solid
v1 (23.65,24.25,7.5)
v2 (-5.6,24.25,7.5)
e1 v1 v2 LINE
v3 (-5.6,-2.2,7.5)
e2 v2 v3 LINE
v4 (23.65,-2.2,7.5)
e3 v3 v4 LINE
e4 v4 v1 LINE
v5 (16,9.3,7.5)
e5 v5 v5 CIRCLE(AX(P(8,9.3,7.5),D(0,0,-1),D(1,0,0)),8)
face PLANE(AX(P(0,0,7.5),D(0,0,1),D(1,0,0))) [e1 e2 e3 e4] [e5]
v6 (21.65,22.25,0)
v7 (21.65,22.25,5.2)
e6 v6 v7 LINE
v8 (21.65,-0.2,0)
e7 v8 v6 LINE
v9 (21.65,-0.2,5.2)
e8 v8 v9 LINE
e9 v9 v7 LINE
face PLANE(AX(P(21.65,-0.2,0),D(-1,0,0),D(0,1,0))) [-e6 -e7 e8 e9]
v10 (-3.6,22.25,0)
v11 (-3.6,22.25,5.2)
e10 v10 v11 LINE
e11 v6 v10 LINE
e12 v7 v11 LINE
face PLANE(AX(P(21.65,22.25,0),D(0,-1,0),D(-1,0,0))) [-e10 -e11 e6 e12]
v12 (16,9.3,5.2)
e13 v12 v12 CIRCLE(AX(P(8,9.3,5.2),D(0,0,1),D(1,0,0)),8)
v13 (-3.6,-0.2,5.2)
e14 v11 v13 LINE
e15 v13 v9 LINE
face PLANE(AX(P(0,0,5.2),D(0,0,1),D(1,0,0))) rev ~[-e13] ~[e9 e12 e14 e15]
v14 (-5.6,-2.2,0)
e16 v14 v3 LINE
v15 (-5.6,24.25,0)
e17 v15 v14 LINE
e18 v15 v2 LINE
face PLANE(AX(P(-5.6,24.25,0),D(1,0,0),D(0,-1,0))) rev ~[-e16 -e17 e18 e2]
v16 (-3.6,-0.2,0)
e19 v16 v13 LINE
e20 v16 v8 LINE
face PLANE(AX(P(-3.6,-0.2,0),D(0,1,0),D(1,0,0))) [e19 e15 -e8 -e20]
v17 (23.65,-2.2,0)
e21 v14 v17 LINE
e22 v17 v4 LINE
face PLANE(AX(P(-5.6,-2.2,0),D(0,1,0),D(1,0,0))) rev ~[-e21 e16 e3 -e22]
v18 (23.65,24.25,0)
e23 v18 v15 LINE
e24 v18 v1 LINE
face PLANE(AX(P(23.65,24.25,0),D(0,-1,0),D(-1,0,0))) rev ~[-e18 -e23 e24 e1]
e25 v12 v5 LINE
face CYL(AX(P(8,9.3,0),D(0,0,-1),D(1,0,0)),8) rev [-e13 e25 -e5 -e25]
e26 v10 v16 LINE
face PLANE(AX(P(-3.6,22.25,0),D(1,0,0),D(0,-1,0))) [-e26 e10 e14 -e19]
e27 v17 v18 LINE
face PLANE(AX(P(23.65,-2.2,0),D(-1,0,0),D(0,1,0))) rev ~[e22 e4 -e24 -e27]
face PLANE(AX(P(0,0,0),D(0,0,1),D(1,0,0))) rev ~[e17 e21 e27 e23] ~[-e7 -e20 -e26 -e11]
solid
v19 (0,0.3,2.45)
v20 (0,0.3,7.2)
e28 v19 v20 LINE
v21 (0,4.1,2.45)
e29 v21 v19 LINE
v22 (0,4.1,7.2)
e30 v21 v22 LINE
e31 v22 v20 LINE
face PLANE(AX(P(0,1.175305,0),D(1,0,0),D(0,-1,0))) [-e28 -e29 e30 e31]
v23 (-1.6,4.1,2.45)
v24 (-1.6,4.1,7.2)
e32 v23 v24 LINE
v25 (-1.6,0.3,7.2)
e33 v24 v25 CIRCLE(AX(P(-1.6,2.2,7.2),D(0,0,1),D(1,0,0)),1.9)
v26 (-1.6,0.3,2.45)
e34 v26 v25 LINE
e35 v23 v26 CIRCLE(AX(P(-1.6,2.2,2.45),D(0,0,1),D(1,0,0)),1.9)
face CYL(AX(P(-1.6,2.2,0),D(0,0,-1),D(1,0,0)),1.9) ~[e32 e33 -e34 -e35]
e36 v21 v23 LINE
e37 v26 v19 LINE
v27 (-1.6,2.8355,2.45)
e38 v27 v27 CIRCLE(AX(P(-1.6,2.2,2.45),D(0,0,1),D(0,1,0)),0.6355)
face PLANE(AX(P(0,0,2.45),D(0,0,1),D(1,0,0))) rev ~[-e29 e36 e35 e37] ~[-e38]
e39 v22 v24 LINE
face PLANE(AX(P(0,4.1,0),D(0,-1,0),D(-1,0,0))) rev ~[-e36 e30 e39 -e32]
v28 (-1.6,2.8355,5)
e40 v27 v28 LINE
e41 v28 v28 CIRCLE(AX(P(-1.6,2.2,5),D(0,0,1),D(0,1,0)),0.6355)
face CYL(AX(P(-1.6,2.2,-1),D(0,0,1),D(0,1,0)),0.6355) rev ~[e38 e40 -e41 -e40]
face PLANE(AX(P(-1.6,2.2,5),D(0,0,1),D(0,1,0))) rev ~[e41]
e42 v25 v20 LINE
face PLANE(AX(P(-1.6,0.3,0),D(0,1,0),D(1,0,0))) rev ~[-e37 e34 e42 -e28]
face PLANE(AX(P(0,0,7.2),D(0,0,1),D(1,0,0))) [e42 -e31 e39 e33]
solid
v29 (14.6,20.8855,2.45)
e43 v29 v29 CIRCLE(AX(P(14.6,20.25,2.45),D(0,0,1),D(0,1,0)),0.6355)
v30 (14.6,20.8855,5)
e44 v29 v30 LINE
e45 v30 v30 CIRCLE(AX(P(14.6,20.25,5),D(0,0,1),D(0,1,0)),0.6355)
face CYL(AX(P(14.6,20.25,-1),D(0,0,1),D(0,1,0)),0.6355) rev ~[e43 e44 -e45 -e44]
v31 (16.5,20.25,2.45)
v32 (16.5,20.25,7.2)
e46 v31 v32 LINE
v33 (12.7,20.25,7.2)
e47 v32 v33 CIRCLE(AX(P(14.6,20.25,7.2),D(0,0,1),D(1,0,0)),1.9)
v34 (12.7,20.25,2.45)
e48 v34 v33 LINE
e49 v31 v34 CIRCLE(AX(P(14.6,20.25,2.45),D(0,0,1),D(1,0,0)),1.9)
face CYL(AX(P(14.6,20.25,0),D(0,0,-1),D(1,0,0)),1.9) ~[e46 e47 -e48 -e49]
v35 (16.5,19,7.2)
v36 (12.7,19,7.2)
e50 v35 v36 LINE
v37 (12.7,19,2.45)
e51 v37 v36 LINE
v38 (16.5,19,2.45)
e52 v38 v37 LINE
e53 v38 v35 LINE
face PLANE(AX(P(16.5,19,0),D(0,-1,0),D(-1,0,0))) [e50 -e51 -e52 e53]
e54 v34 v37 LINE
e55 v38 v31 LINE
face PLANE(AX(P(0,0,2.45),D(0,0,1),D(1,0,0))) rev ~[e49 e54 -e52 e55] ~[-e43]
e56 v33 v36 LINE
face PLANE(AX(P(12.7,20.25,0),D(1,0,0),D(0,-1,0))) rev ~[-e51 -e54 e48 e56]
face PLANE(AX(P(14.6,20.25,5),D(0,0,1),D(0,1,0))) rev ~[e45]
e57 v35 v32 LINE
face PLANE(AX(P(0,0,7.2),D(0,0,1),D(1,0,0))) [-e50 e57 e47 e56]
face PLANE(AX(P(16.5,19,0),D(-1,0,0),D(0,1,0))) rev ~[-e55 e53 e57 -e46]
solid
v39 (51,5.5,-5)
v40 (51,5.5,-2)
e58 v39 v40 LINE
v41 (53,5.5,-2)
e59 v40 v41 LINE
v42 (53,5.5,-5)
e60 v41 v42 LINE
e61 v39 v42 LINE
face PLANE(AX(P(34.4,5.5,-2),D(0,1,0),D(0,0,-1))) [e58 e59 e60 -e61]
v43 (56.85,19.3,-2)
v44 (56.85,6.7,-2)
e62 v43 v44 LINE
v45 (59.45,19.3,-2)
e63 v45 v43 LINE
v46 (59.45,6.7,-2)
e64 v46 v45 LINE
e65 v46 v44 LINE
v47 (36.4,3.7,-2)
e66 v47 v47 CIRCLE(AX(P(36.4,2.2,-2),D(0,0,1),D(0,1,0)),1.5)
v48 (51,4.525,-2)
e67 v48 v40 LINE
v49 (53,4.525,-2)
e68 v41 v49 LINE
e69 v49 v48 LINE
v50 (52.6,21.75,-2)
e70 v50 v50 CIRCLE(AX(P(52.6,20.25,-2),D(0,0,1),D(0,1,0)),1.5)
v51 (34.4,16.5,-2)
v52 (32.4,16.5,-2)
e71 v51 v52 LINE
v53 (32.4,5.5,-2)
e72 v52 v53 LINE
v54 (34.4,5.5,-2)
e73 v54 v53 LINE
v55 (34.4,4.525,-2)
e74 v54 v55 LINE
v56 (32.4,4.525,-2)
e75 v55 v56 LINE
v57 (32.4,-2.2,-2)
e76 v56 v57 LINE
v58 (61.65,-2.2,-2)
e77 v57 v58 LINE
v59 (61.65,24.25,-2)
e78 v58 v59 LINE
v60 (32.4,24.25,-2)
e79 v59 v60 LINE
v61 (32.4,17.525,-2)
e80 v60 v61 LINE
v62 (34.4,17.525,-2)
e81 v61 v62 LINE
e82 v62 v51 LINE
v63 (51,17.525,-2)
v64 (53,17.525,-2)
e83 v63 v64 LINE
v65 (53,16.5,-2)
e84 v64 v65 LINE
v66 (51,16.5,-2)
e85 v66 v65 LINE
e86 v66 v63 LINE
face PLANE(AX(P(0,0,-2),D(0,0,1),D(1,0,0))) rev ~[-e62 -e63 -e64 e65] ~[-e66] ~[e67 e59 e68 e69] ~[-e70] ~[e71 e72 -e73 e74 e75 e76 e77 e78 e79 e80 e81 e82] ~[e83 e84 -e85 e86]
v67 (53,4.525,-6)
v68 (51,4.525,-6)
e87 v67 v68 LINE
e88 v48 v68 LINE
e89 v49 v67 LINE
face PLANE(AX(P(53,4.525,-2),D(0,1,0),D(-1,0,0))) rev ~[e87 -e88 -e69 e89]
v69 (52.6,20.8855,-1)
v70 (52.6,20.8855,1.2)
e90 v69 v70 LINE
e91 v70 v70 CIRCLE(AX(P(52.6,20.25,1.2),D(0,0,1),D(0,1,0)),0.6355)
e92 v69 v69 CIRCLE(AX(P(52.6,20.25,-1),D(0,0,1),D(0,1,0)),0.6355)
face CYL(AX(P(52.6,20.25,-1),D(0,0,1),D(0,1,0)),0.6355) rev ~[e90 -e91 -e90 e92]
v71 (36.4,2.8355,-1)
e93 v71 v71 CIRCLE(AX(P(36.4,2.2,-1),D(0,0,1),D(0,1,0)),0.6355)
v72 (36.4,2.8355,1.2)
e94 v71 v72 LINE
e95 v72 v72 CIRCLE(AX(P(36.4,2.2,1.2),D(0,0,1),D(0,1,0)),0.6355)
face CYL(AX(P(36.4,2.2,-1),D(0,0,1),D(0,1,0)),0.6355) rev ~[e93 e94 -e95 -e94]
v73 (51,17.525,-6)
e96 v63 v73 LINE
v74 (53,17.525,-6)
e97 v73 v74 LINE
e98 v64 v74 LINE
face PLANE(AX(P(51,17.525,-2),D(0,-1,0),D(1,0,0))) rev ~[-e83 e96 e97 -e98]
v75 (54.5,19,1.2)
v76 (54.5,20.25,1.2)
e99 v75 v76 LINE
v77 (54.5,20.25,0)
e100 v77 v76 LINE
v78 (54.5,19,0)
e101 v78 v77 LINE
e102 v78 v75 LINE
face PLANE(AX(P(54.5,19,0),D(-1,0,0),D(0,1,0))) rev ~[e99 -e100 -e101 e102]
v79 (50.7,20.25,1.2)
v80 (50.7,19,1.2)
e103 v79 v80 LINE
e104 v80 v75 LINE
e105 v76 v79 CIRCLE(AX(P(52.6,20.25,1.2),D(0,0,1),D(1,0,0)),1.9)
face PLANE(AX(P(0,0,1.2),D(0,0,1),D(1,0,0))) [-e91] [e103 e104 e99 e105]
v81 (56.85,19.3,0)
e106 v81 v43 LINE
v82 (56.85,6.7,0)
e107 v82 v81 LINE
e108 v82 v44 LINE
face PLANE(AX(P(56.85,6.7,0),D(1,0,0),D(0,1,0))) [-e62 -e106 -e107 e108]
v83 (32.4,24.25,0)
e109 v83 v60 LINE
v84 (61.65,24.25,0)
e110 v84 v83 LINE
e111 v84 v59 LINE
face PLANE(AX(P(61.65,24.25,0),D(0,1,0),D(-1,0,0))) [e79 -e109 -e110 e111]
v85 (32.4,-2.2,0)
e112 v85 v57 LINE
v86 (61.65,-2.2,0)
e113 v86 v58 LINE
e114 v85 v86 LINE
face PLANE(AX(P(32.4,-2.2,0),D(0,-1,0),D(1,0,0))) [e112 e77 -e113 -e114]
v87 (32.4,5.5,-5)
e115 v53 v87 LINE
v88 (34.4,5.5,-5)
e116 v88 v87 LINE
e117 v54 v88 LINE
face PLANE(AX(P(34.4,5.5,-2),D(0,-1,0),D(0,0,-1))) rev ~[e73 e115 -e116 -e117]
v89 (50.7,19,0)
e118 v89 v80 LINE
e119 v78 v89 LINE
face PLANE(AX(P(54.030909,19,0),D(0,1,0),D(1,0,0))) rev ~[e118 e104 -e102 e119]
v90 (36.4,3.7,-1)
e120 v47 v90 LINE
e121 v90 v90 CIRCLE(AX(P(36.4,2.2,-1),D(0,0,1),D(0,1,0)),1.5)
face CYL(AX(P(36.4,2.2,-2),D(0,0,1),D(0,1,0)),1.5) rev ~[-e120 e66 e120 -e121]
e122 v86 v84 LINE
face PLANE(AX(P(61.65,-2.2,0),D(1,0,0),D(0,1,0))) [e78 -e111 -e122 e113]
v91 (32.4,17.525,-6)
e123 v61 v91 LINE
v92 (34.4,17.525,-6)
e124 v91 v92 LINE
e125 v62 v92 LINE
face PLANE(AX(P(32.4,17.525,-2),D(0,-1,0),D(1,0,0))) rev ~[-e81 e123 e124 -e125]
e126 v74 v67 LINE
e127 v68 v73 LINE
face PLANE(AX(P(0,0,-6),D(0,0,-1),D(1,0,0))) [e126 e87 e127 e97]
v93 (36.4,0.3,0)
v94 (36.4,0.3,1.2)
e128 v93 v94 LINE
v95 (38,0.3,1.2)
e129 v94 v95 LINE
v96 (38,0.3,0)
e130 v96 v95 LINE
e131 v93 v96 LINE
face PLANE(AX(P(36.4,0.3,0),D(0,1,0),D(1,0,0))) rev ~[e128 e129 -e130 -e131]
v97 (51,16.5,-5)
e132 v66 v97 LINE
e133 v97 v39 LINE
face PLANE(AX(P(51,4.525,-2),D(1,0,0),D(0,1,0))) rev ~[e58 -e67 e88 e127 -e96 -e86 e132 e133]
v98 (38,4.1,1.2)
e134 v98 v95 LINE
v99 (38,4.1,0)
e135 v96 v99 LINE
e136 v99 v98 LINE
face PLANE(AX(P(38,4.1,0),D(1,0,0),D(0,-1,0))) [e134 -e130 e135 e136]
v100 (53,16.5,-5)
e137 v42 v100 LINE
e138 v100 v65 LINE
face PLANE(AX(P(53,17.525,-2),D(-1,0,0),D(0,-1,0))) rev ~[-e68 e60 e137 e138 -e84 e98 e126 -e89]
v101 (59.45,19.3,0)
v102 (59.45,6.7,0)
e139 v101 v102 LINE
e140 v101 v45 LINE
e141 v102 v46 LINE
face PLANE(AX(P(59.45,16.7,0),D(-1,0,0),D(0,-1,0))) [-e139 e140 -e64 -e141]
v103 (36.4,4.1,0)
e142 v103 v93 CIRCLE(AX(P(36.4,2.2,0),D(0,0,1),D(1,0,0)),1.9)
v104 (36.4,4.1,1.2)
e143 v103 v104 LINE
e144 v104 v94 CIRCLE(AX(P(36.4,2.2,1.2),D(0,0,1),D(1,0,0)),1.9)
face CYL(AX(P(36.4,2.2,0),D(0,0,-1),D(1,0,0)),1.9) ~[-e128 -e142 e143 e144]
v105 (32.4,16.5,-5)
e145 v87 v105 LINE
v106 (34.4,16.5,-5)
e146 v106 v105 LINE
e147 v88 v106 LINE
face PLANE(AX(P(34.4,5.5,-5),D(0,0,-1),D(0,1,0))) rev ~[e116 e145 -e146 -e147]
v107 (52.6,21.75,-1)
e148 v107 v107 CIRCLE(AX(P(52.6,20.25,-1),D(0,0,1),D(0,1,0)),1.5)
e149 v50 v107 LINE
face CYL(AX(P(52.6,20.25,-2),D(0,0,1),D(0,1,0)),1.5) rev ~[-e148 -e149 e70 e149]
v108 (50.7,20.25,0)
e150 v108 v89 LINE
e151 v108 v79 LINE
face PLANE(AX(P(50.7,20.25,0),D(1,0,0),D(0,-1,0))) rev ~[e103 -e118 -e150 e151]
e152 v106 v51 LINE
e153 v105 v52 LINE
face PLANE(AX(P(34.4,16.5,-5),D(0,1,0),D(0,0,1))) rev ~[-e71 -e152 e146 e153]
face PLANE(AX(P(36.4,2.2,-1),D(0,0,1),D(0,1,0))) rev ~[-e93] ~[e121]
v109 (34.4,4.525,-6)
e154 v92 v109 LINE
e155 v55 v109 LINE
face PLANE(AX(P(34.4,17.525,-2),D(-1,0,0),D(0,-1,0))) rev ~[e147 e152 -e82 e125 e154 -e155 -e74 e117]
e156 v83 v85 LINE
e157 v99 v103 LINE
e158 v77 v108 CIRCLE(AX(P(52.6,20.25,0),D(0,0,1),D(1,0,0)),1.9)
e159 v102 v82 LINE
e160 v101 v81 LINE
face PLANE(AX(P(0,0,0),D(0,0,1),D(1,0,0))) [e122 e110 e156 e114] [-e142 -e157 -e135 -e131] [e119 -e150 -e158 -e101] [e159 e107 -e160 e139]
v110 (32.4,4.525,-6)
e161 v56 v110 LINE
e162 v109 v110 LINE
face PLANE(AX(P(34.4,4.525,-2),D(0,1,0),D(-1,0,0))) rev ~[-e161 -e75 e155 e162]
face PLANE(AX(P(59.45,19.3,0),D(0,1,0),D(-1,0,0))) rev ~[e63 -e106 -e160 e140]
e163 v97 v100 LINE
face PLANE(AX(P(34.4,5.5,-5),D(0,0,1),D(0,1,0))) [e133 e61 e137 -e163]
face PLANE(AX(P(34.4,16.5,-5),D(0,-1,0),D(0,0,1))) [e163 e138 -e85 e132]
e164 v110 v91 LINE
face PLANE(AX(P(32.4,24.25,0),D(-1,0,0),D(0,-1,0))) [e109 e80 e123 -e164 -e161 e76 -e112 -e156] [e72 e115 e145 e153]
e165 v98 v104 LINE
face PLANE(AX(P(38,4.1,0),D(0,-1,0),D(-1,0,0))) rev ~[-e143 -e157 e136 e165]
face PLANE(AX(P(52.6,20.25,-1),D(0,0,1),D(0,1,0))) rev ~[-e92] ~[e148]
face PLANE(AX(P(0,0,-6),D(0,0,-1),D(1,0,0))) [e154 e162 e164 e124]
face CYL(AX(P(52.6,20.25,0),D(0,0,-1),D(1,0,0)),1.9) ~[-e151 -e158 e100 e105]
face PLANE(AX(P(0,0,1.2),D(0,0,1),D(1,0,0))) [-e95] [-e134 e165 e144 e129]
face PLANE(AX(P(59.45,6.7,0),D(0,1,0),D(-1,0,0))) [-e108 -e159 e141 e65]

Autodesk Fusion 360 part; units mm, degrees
sketch "Sketch3" plane through (0, 0, 0) normal (0, 0, 1) x (1, 0, 0)
  line L0 (0, 0) -> (16.95, 0)
  line L1 (16.95, 0) -> (16.95, 19)
  line L2 (16.95, 19) -> (0, 19)
  line L3 (0, 19) -> (0, 0)
  circle A0 centre (8, 9.3) radius 8
  circle A1 centre (14.6, 20.25) radius 0.8
  circle A2 centre (14.6, 20.25) radius 1.9
  line L4 (16.5, 20.25) -> (12.7, 20.25)
  line L5 (12.7, 20.25) -> (12.7, 19)
  line L6 (12.7, 19) -> (16.5, 19)
  line L7 (16.5, 19) -> (16.5, 20.25)
  circle A3 centre (-1.6, 2.2) radius 0.725
  circle A4 centre (-1.6, 2.2) radius 1.9
  line L8 (0, 4.1) -> (0, 0)
  line L9 (-1.6, 0.3) -> (0, 0.3)
  line L10 (0, 0.3) -> (0, 4.1)
  line L11 (0, 4.1) -> (-1.6, 4.1)
  line L12 (-1.6, 4.1) -> (-1.6, 0.3)
  line L13 (21.45, 19.3) -> (18.85, 19.3)
  line L14 (18.85, 19.3) -> (18.85, 16.7)
  line L15 (18.85, 16.7) -> (21.45, 16.7)
  line L16 (21.45, 16.7) -> (21.45, 19.3)
  line L17 (21.45, 19.3) -> (18.85, 16.7) construction
  line L18 (18.85, 19.3) -> (21.45, 16.7) construction
  line L19 (18.85, 19.3) -> (21.45, 19.3)
  line L20 (21.45, 19.3) -> (21.45, 6.7)
  line L21 (21.45, 6.7) -> (18.85, 6.7)
  line L22 (18.85, 6.7) -> (18.85, 19.3)
  circle A5 centre (52.6, 20.25) radius 1.9
  line L23 (38, 4.1) -> (38, 0)
  line L24 (59.45, 6.7) -> (56.85, 6.7)
  line L25 (50.7, 19) -> (54.5, 19)
  line L26 (59.45, 19.3) -> (56.85, 19.3)
  circle A6 centre (36.4, 2.2) radius 0.725
  line L27 (36.4, 0.3) -> (38, 0.3)
  line L28 (54.5, 19) -> (54.5, 20.25)
  line L29 (56.85, 19.3) -> (59.45, 19.3)
  line L30 (56.85, 6.7) -> (56.85, 19.3)
  line L31 (38, 0.3) -> (38, 4.1)
  circle A7 centre (52.6, 20.25) radius 0.8
  line L32 (36.4, 4.1) -> (36.4, 0.3)
  line L33 (54.95, 0) -> (54.95, 19)
  line L34 (56.85, 19.3) -> (56.85, 16.7)
  line L35 (59.45, 19.3) -> (59.45, 6.7)
  line L36 (59.45, 19.3) -> (56.85, 16.7) construction
  line L37 (54.95, 19) -> (38, 19)
  circle A8 centre (36.4, 2.2) radius 1.9
  line L38 (38, 4.1) -> (36.4, 4.1)
  line L39 (56.85, 19.3) -> (59.45, 16.7) construction
  line L40 (54.5, 20.25) -> (50.7, 20.25)
  line L41 (56.85, 16.7) -> (59.45, 16.7)
  line L42 (38, 0) -> (54.95, 0)
  line L43 (59.45, 16.7) -> (59.45, 19.3)
  circle A9 centre (46, 9.3) radius 8
  line L44 (50.7, 20.25) -> (50.7, 19)
  line L45 (38, 19) -> (38, 0)
  point P0 (8, 9.3)
  point P1 (14.6, 20.25)
  point P2 (-1.6, 2.2)
  point P3 (20.15, 18)
  point P4 (20.15, 18)
  point P5 (38, 0)
  point P6 (52.6, 20.25)
  point P7 (46, 9.3)
  point P8 (36.4, 2.2)
  point P9 (58.15, 18)
  point P10 (58.15, 18)
  dimension "d8" = 16.95
  dimension "d9" = 19
  dimension "d10" = 9.3
  dimension "d11" = 8
  dimension "d12" = 16
  dimension "d13" = 10.95
  dimension "d14" = 14.6
  dimension "d15" = 1.6
  dimension "d16" = 3.8
  dimension "d17" = 7.1
  dimension "d18" = 16.2
  dimension "d19" = 1.45
  dimension "d20" = 3.8
  dimension "d21" = 5.55
  dimension "d22" = 2.25
  dimension "d23" = 2.6
  dimension "d24" = 2.6
  dimension "d25" = 2.6
  dimension "d26" = 12.6
  dimension "d40" = 16.95
  dimension "d41" = 19
  dimension "d42" = 9.3
  dimension "d43" = 8
  dimension "d44" = 16
  dimension "d45" = 10.95
  dimension "d46" = 14.6
  dimension "d47" = 1.6
  dimension "d48" = 3.8
  dimension "d49" = 7.1
  dimension "d50" = 16.2
  dimension "d51" = 1.45
  dimension "d52" = 3.8
  dimension "d53" = 5.55
  dimension "d54" = 2.25
  dimension "d55" = 2.6
  dimension "d56" = 2.6
  dimension "d57" = 2.6
  dimension "d58" = 12.6
sketch "Sketch5" plane through (0, 0, 0) normal (0, 0, 1) x (1, 0, 0)
  line L0 (21.65, 22.25) -> (-3.6, 22.25)
  line L1 (-3.6, 22.25) -> (-3.6, -0.2)
  line L2 (-3.6, -0.2) -> (21.65, -0.2)
  line L3 (21.65, -0.2) -> (21.65, 22.25)
  line L4 (21.45, 19.3) -> (21.45, 6.7)
  line L5 (0, 0) -> (16.95, 0)
  line L6 (-5.6, -2.2) -> (23.65, -2.2)
  line L7 (23.65, -2.2) -> (23.65, 24.25)
  line L8 (23.65, 24.25) -> (-5.6, 24.25)
  line L9 (-5.6, 24.25) -> (-5.6, -2.2)
  line L10 (61.65, 24.25) -> (32.4, 24.25)
  line L11 (34.4, -0.2) -> (59.65, -0.2)
  line L12 (38, 0) -> (54.95, 0)
  line L13 (32.4, 24.25) -> (32.4, -2.2)
  line L14 (32.4, -2.2) -> (61.65, -2.2)
  line L15 (61.65, -2.2) -> (61.65, 24.25)
  line L16 (59.65, 22.25) -> (34.4, 22.25)
  line L17 (34.4, 22.25) -> (34.4, -0.2)
  line L18 (59.45, 19.3) -> (59.45, 6.7)
  line L19 (59.65, -0.2) -> (59.65, 22.25)
  point P0 (-1.6, 2.2)
  point P1 (14.6, 20.25)
  point P2 (38, 0)
  point P3 (36.4, 2.2)
  point P4 (52.6, 20.25)
  dimension "d28" = 2
  dimension "d29" = 2
  dimension "d30" = 0.2
  dimension "d31" = 0.2
  dimension "d32" = 2
  dimension "d33" = 2
  dimension "d34" = 2
  dimension "d35" = 2
  dimension "d69" = 2
  dimension "d70" = 2
  dimension "d71" = 0.2
  dimension "d72" = 0.2
  dimension "d73" = 2
  dimension "d74" = 2
  dimension "d75" = 2
  dimension "d76" = 2
extrude "Extrude3" add sketch "Sketch5" along normal blind 7.5 contours L0 L1 L2 L3 | L6 L7 L8 L9 makes body 1
extrude "Extrude4" cut sketch "Sketch5" along normal blind 5.2 contours L0 L1 L2 L3 bodies 1
extrude "Extrude5" cut sketch "Sketch3" along normal blind 8 contours A0 bodies 1
extrude "Extrude6" add sketch "Sketch3" along normal blind 7.2 separate body contours L3 A4 L8 L9 L10 | L3 A3 A4 L8 L10 L12 | A3 A4 L12 | L2 A2 L6 L7 | L3 A4 L8 L10 L11 | A3 L12 | A3 L12 | L2 A1 A2 L4 L6 | A1 A2 L4 | L2 A2 L5 L6 | A1 L4 | A1 L4 makes body 2 at (-1.6947, 0.3024, 4.8) makes body 3 at (12.7094, 20.4392, 2.4)
extrude "Extrude7" cut sketch "Sketch3" along normal blind 2.45 contours L3 A4 L8 L9 L10 | L3 A3 A4 L8 L10 L12 | A3 A4 L12 | L2 A2 L6 L7 | L3 A4 L8 L10 L11 | A3 L12 | A3 L12 | L2 A1 A2 L4 L6 | A1 A2 L4 | L2 A2 L5 L6 | A1 L4 | A1 L4 bodies 2 3
extrude "Extrude8" add sketch "Sketch3" sketch "Sketch5" against normal blind 2 separate body contours A5 A7 L40 | A5 L25 L28 L37 | A5 L25 A7 L37 L40 | A5 L25 L37 L44 | A9 | A5 L23 L25 L31 L33 L37 A8 L42 L45 | A5 L25 L37 | A7 L40 | A7 L40 | L23 L31 A8 L38 L45 | L23 L27 L31 A8 L45 | L23 L31 A8 L45 | L23 A6 L31 L32 A8 L45 | A6 L32 A8 | A6 L32 | A6 L32 | L24 L30 L35 L41 | L26 L29 L30 L34 L35 L41 L43 of sketch 2 contours L10 L13 L14 L15 | L11 L16 L17 L19 makes body 4
extrude "Extrude9" cut sketch "Sketch3" against normal blind 2 contours L24 L30 L35 L41 | L26 L29 L30 L34 L35 L41 L43 bodies 4
extrude "Extrude10" add sketch "Sketch3" along normal blind 1.2 contours A5 A7 L40 | A5 L25 L28 L37 | A5 L25 A7 L37 L40 | A5 L25 L37 L44 | A7 L40 | A7 L40 | L23 L31 A8 L38 L45 | L23 L27 L31 A8 L45 | L23 A6 L31 L32 A8 L45 | A6 L32 A8 | A6 L32 | A6 L32 bodies 4
sketch "Sketch9" plane through (0, 0, -2) normal (0, 0, -1) x (1, 0, 0)
  line L0 (59.45, -19.3) -> (56.85, -19.3)
  line L1 (56.85, -19.3) -> (56.85, -6.7)
  line L2 (56.85, -6.7) -> (59.45, -6.7)
  line L3 (59.45, -6.7) -> (59.45, -19.3)
  line L4 (61.65, -24.25) -> (61.65, 2.2)
  line L5 (61.65, 2.2) -> (32.4, 2.2)
  line L6 (32.4, 2.2) -> (32.4, -24.25)
  line L7 (32.4, -24.25) -> (61.65, -24.25)
  line L8 (54.95, 0) -> (54.95, -19)
  circle A0 centre (52.6, -20.25) radius 0.8
  line L9 (21.45, -6.7) -> (18.85, -6.7)
  line L10 (-1.6, -0.3) -> (0, -0.3)
  circle A1 centre (36.4, -2.2) radius 0.725
  line L11 (50.7, -20.25) -> (50.7, -19)
  line L12 (59.45, -16.7) -> (59.45, -19.3)
  line L13 (18.85, -19.3) -> (21.45, -16.7) construction
  line L14 (56.85, -19.3) -> (59.45, -19.3)
  line L15 (21.45, -19.3) -> (21.45, -6.7)
  line L16 (56.85, -19.3) -> (59.45, -16.7) construction
  line L17 (0, -0.3) -> (0, -4.1)
  line L18 (16.95, -19) -> (0, -19)
  line L19 (12.7, -19) -> (16.5, -19)
  circle A2 centre (36.4, -2.2) radius 1.9
  line L20 (0, -19) -> (0, 0)
  line L21 (36.4, -4.1) -> (36.4, -0.3)
  line L22 (38, 0) -> (54.95, 0)
  line L23 (36.4, -0.3) -> (38, -0.3)
  circle A3 centre (-1.6, -2.2) radius 1.9
  line L24 (12.7, -20.25) -> (12.7, -19)
  line L25 (38, -19) -> (38, 0)
  line L26 (18.85, -19.3) -> (18.85, -16.7)
  line L27 (0, 0) -> (16.95, 0)
  line L28 (18.85, -6.7) -> (18.85, -19.3)
  line L29 (59.45, -6.7) -> (56.85, -6.7)
  line L30 (21.45, -16.7) -> (21.45, -19.3)
  circle A4 centre (8, -9.3) radius 8
  line L31 (56.85, -19.3) -> (56.85, -16.7)
  circle A5 centre (52.6, -20.25) radius 1.9
  line L32 (56.85, -6.7) -> (56.85, -19.3)
  line L33 (18.85, -16.7) -> (21.45, -16.7)
  line L34 (0, -4.1) -> (-1.6, -4.1)
  line L35 (18.85, -19.3) -> (21.45, -19.3)
  circle A6 centre (46, -9.3) radius 8
  line L36 (54.5, -20.25) -> (50.7, -20.25)
  line L37 (0, -4.1) -> (0, 0)
  circle A7 centre (14.6, -20.25) radius 1.9
  line L38 (59.45, -19.3) -> (59.45, -6.7)
  line L39 (38, -4.1) -> (36.4, -4.1)
  line L40 (38, -0.3) -> (38, -4.1)
  line L41 (16.5, -19) -> (16.5, -20.25)
  line L42 (50.7, -19) -> (54.5, -19)
  line L43 (38, -4.1) -> (38, 0)
  line L44 (21.45, -19.3) -> (18.85, -16.7) construction
  line L45 (16.5, -20.25) -> (12.7, -20.25)
  line L46 (21.45, -19.3) -> (18.85, -19.3)
  line L47 (56.85, -16.7) -> (59.45, -16.7)
  line L48 (-1.6, -4.1) -> (-1.6, -0.3)
  line L49 (54.5, -19) -> (54.5, -20.25)
  line L50 (54.95, -19) -> (38, -19)
  circle A8 centre (-1.6, -2.2) radius 0.725
  line L51 (59.45, -19.3) -> (56.85, -19.3)
  circle A9 centre (14.6, -20.25) radius 0.8
  line L52 (16.95, 0) -> (16.95, -19)
  line L53 (59.45, -19.3) -> (56.85, -16.7) construction
  point P0 (14.6, -20.25)
  point P1 (20.15, -18)
  point P2 (8, -9.3)
  point P3 (38, 0)
  point P4 (20.15, -18)
  point P5 (58.15, -18)
  point P6 (52.6, -20.25)
  point P7 (46, -9.3)
  point P8 (36.4, -2.2)
  point P9 (-1.6, -2.2)
  point P10 (58.15, -18)
  dimension "d85" = 16.95
  dimension "d86" = 19
  dimension "d87" = 9.3
  dimension "d88" = 8
  dimension "d89" = 16
  dimension "d91" = 14.6
  dimension "d92" = 1.6
  dimension "d93" = 3.8
  dimension "d96" = 1.45
  dimension "d97" = 3.8
  dimension "d100" = 2.6
  dimension "d101" = 2.6
  dimension "d102" = 2.6
  dimension "d103" = 12.6
  dimension "d104" = 16.95
  dimension "d105" = 19
  dimension "d106" = 9.3
  dimension "d107" = 8
  dimension "d108" = 16
  dimension "d110" = 14.6
  dimension "d111" = 1.6
  dimension "d112" = 3.8
  dimension "d115" = 1.45
  dimension "d116" = 3.8
  dimension "d119" = 2.6
  dimension "d120" = 2.6
  dimension "d121" = 2.6
  dimension "d122" = 12.6
hole "Hole1" at (52.6, 20.25, -2) at (36.4, 2.2, -2) at (14.6, 20.25, -2) at (-1.6, 2.2, -2) direction (0, 0, 1) diameter 1.271 depth 7 tip angle 180 counterbore diameter 3 counterbore depth 1 bodies 2 3 4
sketch "Sketch10" plane through (0, 0, -2) normal (0, 0, -1) x (1, 0, 0)
  circle A0 centre (52.6, -20.25) radius 1.5
  circle A1 centre (36.4, -2.2) radius 1.5
  line L0 (59.45, -19.3) -> (56.85, -19.3)
  line L1 (56.85, -19.3) -> (56.85, -6.7)
  line L2 (56.85, -6.7) -> (59.45, -6.7)
  line L3 (59.45, -6.7) -> (59.45, -19.3)
  line L4 (61.65, -24.25) -> (61.65, 2.2)
  line L5 (61.65, 2.2) -> (32.4, 2.2)
  line L6 (32.4, 2.2) -> (32.4, -24.25)
  line L7 (32.4, -24.25) -> (61.65, -24.25)
  line L8 (34.4, -4.525) -> (32.4, -4.525)
  line L9 (32.4, -4.525) -> (32.4, -17.525)
  line L10 (32.4, -17.525) -> (34.4, -17.525)
  line L11 (34.4, -17.525) -> (34.4, -4.525)
  line L12 (34.4, -4.525) -> (32.4, -17.525) construction
  line L13 (32.4, -4.525) -> (34.4, -17.525) construction
  line L14 (51, -17.525) -> (53, -17.525)
  line L15 (53, -17.525) -> (53, -4.525)
  line L16 (53, -4.525) -> (51, -4.525)
  line L17 (51, -4.525) -> (51, -17.525)
  line L18 (51, -17.525) -> (53, -4.525) construction
  line L19 (53, -17.525) -> (51, -4.525) construction
  point P0 (33.4, -11.025)
  point P1 (52, -11.025)
  dimension "d130" = 2
  dimension "d131" = 13
  dimension "d132" = 2
  dimension "d133" = 13
extrude "Extrude11" add sketch "Sketch10" along normal blind 4 contours L6 L8 L9 L10 L11 | L14 L15 L16 L17 bodies 4
sketch "Sketch11" plane through (34.4, 0, 0) normal (1, 0, 0) x (0, 1, 0)
  line L0 (17.525, -2) -> (4.525, -2)
  line L1 (4.525, -2) -> (4.525, -6)
  line L2 (4.525, -6) -> (17.525, -6)
  line L3 (17.525, -6) -> (17.525, -2)
  line L4 (16.5, -2) -> (5.5, -2)
  line L5 (5.5, -2) -> (5.5, -5)
  line L6 (5.5, -5) -> (16.5, -5)
  line L7 (16.5, -5) -> (16.5, -2)
  dimension "d136" = 11
extrude "Extrude12" cut sketch "Sketch11" against normal blind 2 contours L0 L4 L5 L6 L7 bodies 4
extrude "Extrude13" cut sketch "Sketch11" along normal blind 19 contours L0 L4 L5 L6 L7 bodies 4
